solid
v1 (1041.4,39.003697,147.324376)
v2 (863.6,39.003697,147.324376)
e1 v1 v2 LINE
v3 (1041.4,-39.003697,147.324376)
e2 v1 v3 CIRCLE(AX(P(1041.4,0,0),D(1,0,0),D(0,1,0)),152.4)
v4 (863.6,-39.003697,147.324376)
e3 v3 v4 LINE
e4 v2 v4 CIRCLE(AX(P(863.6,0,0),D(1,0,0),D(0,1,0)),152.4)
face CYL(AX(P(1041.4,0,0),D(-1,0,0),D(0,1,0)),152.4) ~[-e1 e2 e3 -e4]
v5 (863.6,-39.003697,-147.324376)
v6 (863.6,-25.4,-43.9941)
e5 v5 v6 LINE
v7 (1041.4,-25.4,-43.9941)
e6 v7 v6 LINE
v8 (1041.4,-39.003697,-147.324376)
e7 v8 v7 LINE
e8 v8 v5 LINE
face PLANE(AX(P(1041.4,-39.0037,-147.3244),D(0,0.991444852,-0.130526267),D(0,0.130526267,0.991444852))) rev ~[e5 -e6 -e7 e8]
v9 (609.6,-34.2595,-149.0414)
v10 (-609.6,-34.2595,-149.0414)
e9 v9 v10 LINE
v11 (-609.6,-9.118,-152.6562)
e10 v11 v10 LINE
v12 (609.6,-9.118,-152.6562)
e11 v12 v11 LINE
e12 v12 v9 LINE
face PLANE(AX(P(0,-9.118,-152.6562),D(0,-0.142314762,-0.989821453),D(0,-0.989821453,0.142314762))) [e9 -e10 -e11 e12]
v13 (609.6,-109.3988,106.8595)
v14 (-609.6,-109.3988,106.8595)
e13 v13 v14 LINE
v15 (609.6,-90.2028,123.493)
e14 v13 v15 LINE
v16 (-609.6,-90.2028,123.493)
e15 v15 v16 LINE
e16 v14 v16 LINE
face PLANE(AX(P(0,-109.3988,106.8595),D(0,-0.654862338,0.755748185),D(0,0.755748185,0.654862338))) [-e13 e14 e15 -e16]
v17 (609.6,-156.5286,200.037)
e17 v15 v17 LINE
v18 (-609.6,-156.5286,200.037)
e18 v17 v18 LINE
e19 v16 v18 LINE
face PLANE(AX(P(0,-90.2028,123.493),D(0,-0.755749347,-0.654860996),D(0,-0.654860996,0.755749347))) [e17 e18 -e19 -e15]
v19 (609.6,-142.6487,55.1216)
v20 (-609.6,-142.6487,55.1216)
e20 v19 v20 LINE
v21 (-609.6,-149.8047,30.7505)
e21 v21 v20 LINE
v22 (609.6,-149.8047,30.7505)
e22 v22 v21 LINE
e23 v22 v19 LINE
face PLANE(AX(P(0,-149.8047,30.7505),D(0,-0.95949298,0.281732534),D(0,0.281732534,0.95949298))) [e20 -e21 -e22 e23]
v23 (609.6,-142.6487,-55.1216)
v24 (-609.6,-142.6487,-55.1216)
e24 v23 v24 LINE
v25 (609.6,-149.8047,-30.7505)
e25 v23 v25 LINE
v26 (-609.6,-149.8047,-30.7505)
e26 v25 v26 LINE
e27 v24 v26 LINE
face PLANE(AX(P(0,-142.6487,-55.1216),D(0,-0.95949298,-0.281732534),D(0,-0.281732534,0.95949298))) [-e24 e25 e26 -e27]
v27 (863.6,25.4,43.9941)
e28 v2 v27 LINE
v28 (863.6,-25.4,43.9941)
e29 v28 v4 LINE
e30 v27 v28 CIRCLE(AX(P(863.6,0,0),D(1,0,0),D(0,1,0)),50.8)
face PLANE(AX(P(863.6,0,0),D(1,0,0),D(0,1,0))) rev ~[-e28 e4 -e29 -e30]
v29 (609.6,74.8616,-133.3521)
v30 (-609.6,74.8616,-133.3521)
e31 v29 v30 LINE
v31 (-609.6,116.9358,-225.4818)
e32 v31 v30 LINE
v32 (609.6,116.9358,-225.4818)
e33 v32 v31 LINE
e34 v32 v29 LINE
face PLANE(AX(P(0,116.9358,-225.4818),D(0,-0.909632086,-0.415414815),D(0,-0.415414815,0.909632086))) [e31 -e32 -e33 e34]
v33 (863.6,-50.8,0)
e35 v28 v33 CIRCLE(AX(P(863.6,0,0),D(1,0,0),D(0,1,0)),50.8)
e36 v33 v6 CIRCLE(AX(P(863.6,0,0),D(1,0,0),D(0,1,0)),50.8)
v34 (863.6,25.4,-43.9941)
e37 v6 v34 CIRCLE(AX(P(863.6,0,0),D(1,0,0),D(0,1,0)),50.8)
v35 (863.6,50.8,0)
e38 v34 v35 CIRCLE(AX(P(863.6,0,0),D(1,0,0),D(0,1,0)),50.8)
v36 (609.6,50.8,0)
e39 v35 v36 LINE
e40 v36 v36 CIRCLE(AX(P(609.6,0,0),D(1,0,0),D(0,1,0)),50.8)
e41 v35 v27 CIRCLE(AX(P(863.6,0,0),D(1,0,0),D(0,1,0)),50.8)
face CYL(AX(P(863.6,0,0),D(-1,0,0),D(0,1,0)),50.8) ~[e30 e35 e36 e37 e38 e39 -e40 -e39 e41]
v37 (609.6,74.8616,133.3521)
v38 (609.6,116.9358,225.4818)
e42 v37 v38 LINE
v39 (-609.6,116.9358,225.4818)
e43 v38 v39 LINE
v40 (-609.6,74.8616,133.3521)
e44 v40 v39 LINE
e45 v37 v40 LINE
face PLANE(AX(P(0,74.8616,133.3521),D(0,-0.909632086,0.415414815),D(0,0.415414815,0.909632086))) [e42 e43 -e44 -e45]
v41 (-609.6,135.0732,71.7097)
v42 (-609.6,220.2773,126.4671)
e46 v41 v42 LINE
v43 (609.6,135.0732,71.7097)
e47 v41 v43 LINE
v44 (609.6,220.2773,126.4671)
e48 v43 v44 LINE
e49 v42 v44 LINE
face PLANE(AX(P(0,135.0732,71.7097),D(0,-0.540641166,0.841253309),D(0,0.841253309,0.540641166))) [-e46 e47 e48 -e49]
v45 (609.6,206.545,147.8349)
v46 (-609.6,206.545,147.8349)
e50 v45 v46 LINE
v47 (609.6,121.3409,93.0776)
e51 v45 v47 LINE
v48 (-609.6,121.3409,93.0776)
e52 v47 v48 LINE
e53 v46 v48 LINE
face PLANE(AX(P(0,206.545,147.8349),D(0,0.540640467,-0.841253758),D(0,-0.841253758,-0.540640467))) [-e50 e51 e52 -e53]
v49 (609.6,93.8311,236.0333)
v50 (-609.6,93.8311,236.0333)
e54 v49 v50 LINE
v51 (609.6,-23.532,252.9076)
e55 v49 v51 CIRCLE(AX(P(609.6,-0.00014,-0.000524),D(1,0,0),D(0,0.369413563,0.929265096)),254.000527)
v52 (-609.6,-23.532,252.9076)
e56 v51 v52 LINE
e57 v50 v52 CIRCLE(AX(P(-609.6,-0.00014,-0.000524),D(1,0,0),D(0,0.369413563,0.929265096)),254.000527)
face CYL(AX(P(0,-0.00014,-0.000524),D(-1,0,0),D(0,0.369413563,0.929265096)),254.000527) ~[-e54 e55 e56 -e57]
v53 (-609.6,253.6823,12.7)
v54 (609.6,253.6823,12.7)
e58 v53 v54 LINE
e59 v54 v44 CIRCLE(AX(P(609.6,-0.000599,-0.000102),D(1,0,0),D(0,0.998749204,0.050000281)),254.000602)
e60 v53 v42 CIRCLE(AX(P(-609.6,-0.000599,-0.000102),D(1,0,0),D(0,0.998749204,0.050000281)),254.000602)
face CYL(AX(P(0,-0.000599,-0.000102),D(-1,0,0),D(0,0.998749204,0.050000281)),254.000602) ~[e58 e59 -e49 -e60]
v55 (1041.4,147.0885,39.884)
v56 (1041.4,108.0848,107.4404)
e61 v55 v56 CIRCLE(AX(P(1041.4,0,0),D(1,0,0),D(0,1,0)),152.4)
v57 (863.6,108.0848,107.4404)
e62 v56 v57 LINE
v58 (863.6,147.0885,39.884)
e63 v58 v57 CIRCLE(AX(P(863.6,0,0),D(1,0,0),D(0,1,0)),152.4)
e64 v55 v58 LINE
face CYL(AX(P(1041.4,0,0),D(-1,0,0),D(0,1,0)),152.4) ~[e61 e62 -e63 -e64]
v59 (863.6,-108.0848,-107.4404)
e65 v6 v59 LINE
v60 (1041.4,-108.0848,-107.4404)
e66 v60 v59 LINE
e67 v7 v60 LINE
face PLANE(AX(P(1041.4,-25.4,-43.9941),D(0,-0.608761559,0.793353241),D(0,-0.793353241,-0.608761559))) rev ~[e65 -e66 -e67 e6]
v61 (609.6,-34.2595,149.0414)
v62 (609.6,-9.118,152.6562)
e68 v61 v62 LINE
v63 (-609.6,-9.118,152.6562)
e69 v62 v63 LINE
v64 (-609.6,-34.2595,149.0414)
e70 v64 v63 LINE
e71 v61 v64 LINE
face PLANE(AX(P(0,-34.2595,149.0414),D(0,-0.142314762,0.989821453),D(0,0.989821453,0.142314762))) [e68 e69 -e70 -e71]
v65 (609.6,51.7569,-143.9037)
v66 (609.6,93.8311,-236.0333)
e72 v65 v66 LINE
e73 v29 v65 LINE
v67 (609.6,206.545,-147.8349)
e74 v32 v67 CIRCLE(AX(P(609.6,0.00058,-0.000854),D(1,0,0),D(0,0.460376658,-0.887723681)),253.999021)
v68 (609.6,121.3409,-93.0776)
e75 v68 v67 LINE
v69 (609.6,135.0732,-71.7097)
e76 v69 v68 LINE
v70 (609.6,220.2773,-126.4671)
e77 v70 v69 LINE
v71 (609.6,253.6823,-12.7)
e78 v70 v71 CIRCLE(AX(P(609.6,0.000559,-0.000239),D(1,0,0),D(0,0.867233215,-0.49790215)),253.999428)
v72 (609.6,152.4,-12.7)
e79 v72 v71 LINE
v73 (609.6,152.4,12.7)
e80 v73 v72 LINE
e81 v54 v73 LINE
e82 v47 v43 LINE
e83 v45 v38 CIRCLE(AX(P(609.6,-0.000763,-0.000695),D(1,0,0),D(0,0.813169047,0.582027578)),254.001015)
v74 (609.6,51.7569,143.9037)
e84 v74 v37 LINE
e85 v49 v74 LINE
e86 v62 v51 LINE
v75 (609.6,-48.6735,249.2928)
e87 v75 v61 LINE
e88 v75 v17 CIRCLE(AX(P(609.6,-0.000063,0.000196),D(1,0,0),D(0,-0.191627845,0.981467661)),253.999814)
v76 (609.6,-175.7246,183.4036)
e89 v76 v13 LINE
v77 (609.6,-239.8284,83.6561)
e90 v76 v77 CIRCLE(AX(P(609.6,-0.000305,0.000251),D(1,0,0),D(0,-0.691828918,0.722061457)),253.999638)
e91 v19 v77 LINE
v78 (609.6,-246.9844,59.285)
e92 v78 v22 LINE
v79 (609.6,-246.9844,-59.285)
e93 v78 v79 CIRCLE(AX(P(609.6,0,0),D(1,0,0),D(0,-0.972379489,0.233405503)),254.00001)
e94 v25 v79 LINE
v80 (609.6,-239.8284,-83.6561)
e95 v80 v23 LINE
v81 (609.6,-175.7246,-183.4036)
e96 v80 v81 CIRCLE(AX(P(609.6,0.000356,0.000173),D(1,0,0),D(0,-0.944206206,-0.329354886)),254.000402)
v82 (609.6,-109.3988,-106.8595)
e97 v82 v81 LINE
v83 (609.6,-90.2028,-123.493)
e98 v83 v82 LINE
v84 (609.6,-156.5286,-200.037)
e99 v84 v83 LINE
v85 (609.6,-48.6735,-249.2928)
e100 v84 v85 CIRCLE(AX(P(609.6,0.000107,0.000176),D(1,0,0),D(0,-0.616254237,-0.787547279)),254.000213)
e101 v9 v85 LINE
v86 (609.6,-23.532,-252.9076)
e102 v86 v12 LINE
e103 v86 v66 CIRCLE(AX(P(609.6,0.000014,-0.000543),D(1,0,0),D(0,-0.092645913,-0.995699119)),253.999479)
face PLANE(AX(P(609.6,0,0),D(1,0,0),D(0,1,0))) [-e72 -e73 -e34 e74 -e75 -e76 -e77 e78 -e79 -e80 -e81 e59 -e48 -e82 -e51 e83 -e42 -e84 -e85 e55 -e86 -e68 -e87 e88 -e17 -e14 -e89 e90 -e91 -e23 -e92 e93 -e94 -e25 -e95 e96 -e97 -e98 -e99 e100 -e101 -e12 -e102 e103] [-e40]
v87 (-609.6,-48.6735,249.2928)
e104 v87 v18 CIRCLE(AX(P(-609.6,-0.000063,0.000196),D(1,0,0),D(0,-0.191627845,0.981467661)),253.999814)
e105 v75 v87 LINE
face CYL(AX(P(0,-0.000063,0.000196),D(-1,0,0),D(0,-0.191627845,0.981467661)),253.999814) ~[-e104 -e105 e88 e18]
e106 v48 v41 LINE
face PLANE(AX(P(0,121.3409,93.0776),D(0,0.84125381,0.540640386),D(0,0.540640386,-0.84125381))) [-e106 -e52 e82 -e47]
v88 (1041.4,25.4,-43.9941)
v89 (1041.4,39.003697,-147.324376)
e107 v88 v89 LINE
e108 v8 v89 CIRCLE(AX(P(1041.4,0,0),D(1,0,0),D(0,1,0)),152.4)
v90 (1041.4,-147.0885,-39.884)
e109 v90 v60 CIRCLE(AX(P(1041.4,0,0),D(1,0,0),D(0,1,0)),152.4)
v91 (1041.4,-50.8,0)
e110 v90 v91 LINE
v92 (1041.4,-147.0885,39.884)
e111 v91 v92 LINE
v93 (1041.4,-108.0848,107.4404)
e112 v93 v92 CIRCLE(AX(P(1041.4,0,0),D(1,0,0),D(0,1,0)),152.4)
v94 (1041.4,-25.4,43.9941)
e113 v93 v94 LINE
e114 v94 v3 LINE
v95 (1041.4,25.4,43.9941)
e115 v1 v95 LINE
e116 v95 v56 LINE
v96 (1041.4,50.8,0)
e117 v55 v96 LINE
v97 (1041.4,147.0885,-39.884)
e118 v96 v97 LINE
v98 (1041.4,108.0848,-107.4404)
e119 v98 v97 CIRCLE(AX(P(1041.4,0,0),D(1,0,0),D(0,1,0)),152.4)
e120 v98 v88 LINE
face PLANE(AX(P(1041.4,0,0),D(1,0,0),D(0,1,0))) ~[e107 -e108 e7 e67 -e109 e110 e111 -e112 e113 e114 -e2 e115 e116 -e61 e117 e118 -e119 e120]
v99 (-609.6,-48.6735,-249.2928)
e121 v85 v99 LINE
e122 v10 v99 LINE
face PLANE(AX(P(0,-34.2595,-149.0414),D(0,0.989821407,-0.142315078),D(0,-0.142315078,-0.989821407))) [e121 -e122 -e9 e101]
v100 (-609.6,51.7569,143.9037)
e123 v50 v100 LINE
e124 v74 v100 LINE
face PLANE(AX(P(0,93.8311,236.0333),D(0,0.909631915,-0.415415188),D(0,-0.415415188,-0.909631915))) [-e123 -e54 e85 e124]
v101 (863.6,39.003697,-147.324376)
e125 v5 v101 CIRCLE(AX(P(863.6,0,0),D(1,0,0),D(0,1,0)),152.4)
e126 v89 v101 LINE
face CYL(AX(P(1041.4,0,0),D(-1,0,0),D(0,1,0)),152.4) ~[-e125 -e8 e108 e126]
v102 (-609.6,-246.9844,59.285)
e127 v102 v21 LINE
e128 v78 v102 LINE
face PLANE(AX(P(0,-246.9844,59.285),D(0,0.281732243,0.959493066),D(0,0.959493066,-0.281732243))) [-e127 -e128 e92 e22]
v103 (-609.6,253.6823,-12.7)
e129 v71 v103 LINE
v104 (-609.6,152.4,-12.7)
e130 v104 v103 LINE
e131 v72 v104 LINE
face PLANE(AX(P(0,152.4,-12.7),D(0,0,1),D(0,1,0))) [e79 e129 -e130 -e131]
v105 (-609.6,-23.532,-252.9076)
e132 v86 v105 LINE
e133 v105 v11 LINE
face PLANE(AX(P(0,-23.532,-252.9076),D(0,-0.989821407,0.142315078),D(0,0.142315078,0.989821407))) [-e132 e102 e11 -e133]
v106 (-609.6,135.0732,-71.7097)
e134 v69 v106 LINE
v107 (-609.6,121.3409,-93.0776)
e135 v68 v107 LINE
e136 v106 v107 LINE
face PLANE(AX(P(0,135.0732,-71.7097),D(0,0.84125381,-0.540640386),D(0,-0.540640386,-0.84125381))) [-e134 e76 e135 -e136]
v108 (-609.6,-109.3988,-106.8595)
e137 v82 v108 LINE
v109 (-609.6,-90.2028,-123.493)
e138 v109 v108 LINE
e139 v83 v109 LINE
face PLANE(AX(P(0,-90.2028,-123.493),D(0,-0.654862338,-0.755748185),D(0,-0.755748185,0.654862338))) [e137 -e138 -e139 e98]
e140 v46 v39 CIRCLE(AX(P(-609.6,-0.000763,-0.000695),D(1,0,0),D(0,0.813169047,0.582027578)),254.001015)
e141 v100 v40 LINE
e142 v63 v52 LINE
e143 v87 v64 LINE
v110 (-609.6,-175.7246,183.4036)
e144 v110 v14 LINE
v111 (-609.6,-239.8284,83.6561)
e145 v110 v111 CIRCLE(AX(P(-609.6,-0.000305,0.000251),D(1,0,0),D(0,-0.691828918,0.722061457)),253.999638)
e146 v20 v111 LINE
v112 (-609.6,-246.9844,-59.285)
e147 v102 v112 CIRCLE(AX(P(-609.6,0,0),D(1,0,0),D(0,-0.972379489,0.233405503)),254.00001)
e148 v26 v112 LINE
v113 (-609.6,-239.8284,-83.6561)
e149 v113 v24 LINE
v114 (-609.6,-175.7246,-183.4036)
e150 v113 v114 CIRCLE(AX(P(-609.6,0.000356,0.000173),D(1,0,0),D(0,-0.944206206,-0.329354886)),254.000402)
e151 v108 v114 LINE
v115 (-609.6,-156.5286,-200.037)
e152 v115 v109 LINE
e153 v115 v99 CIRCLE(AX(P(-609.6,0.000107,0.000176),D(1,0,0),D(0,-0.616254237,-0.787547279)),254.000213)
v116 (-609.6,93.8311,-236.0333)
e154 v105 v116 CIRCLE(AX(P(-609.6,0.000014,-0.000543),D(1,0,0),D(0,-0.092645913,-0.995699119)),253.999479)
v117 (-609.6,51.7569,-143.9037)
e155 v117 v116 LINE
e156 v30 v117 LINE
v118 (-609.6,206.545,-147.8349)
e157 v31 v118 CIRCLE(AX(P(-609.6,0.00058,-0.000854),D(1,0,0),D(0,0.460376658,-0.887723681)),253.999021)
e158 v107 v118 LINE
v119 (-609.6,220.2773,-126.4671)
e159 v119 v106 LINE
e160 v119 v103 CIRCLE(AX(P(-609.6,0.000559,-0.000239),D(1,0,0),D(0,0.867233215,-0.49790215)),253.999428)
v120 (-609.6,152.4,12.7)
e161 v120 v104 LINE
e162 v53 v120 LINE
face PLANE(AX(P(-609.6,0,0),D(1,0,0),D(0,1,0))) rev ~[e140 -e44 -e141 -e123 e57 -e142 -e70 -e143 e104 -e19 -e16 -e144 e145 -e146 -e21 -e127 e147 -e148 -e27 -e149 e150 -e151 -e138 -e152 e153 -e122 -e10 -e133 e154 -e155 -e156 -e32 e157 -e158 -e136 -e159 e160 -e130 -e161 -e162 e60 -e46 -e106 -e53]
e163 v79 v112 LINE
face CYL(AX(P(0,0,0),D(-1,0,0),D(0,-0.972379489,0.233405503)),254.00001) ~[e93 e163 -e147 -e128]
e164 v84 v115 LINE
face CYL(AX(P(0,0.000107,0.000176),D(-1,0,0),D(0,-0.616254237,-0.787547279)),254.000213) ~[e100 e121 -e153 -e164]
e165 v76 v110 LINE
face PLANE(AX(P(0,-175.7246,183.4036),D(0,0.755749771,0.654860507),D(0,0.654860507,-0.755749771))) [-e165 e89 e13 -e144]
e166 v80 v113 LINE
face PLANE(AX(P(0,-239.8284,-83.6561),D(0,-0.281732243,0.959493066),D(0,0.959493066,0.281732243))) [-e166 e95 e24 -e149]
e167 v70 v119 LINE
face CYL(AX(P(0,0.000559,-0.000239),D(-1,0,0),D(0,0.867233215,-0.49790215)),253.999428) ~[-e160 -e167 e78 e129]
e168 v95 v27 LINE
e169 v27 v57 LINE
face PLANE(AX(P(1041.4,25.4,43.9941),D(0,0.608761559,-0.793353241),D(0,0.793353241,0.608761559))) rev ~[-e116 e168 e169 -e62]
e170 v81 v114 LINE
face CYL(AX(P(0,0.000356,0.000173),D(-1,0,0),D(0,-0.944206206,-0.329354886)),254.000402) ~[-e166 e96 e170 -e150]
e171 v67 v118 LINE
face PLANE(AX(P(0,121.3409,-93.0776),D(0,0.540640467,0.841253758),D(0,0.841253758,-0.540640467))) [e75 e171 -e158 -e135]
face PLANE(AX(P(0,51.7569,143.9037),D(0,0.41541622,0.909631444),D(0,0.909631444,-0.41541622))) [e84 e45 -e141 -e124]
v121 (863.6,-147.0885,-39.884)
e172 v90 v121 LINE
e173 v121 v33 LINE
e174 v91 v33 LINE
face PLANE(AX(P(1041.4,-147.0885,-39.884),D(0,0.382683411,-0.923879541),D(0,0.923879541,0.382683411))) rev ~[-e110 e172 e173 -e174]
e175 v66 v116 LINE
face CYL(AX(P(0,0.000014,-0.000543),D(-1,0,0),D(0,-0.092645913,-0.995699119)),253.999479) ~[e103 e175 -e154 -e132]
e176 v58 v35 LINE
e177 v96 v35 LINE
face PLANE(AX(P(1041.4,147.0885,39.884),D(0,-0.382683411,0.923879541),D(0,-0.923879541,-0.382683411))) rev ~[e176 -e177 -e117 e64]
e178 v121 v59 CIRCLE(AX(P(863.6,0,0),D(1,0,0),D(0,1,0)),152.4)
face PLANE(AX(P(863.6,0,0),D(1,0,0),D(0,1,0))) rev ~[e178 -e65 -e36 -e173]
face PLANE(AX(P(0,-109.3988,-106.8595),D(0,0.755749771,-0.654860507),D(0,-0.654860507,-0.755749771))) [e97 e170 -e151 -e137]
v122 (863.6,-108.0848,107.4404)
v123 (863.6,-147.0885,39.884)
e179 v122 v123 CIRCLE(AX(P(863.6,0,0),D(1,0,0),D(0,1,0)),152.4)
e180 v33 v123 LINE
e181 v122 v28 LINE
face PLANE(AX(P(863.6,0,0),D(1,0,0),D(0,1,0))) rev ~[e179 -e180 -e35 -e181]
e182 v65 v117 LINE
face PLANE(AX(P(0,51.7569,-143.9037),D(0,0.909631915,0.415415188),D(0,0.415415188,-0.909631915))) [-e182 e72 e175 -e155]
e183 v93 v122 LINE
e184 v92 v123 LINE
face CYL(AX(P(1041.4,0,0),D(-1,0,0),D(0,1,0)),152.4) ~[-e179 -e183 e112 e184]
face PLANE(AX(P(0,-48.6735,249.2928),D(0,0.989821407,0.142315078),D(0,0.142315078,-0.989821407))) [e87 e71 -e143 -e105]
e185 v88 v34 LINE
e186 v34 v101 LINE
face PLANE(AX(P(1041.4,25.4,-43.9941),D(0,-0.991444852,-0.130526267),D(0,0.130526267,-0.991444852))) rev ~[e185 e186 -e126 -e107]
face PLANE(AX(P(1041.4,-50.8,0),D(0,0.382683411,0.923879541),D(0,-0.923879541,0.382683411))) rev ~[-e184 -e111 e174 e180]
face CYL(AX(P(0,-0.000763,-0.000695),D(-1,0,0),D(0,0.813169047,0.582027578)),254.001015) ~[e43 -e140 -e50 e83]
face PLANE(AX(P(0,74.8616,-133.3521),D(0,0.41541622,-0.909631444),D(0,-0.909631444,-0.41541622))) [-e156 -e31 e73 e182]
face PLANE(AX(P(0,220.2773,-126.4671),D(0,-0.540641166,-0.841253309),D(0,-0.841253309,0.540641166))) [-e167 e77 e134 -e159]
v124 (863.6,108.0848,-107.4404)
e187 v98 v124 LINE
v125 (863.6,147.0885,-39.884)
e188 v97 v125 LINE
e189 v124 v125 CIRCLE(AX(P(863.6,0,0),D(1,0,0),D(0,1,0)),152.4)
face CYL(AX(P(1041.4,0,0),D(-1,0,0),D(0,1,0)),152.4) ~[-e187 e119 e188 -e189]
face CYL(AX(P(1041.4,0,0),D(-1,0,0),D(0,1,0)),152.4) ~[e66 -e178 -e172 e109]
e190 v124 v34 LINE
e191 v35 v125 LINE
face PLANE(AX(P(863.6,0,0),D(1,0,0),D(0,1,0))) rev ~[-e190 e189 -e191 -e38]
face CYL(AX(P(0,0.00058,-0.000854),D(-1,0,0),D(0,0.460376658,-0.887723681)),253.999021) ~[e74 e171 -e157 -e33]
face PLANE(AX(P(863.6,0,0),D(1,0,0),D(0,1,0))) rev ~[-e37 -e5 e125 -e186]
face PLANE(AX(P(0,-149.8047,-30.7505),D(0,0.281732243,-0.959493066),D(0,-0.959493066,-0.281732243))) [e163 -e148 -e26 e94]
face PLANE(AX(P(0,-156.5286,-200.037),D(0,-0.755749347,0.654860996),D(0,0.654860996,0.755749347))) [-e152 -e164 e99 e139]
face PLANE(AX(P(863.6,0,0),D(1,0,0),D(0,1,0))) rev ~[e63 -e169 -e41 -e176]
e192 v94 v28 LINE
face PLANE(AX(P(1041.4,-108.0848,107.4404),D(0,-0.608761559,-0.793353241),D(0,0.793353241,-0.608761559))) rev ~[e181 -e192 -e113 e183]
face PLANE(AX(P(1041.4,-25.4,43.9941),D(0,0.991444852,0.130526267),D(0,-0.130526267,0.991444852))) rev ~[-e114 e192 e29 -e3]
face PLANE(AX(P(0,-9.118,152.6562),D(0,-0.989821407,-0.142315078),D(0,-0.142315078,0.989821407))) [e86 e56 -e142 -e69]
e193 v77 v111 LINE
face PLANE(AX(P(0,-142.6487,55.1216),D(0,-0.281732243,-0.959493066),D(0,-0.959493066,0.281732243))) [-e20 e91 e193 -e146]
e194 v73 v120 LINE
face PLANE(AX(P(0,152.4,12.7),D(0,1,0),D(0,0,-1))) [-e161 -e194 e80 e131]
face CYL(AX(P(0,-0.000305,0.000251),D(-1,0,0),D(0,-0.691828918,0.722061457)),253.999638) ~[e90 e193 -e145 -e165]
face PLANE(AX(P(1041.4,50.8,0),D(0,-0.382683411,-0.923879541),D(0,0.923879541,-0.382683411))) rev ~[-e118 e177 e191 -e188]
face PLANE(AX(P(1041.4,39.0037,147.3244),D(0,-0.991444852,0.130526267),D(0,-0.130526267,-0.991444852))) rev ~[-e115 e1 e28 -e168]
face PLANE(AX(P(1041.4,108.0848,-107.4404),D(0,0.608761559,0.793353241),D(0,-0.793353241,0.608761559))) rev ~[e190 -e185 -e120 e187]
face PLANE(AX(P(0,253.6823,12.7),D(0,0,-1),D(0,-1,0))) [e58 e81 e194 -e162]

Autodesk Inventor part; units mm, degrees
ref_plane "YZ Plane" through (0, 0, 0) normal (1, 0, 0) x (0, 1, 0)
ref_plane "XZ Plane" through (0, 0, 0) normal (0, 1, 0) x (-1, 0, 0)
ref_plane "XY Plane" through (0, 0, 0) normal (0, 0, 1) x (1, 0, 0)
sketch "Sketch1" plane through (0, 0, 0) normal (1, 0, 0) x (0, 1, 0)
  line L0 (253.6823, 12.7) -> (152.4, 12.7)
  line L1 (152.4, 12.7) -> (152.4, -12.7)
  line L2 (152.4, -12.7) -> (253.6823, -12.7)
  line L3 (228.6, 0) -> (152.4, 0) construction
  line L4 (206.545, 147.8349) -> (121.3409, 93.0776)
  line L5 (121.3409, 93.0776) -> (135.0732, 71.7097)
  line L6 (135.0732, 71.7097) -> (220.2773, 126.4671)
  line L7 (93.8311, 236.0333) -> (51.7569, 143.9037)
  line L8 (51.7569, 143.9037) -> (74.8616, 133.3521)
  line L9 (74.8616, 133.3521) -> (116.9358, 225.4818)
  line L10 (-48.6735, 249.2928) -> (-34.2595, 149.0414)
  line L11 (-34.2595, 149.0414) -> (-9.118, 152.6562)
  line L12 (-9.118, 152.6562) -> (-23.532, 252.9076)
  line L13 (-175.7246, 183.4036) -> (-109.3988, 106.8595)
  line L14 (-109.3988, 106.8595) -> (-90.2028, 123.493)
  line L15 (-90.2028, 123.493) -> (-156.5286, 200.037)
  line L16 (-246.9844, 59.285) -> (-149.8047, 30.7505)
  line L17 (-149.8047, 30.7505) -> (-142.6487, 55.1216)
  line L18 (-142.6487, 55.1216) -> (-239.8284, 83.6561)
  line L19 (-239.8284, -83.6561) -> (-142.6487, -55.1216)
  line L20 (-142.6487, -55.1216) -> (-149.8047, -30.7505)
  line L21 (-149.8047, -30.7505) -> (-246.9844, -59.285)
  line L22 (-156.5286, -200.037) -> (-90.2028, -123.493)
  line L23 (-90.2028, -123.493) -> (-109.3988, -106.8595)
  line L24 (-109.3988, -106.8595) -> (-175.7246, -183.4036)
  line L25 (-23.532, -252.9076) -> (-9.118, -152.6562)
  line L26 (-9.118, -152.6562) -> (-34.2595, -149.0414)
  line L27 (-34.2595, -149.0414) -> (-48.6735, -249.2928)
  line L28 (116.9358, -225.4818) -> (74.8616, -133.3521)
  line L29 (74.8616, -133.3521) -> (51.7569, -143.9037)
  line L30 (51.7569, -143.9037) -> (93.8311, -236.0333)
  line L31 (220.2773, -126.4671) -> (135.0732, -71.7097)
  line L32 (135.0732, -71.7097) -> (121.3409, -93.0776)
  line L33 (121.3409, -93.0776) -> (206.545, -147.8349)
  arc A0 (253.6823, 12.7) -> (220.2773, 126.4671) centre (0, 0) ccw
  arc A1 (220.2773, -126.4671) -> (253.6823, -12.7) centre (0, 0) ccw
  arc A2 (116.9358, -225.4818) -> (206.545, -147.8349) centre (0, 0) ccw
  arc A3 (-23.532, -252.9076) -> (93.8311, -236.0333) centre (0, 0) ccw
  arc A4 (-156.5286, -200.037) -> (-48.6735, -249.2928) centre (0, 0) ccw
  arc A5 (-239.8284, -83.6561) -> (-175.7246, -183.4036) centre (0, 0) ccw
  arc A6 (-246.9844, 59.285) -> (-246.9844, -59.285) centre (0, 0) ccw
  arc A7 (-175.7246, 183.4036) -> (-239.8284, 83.6561) centre (0, 0) ccw
  arc A8 (-48.6735, 249.2928) -> (-156.5286, 200.037) centre (0, 0) ccw
  arc A9 (206.545, 147.8349) -> (116.9358, 225.4818) centre (0, 0) ccw
  arc A10 (93.8311, 236.0333) -> (-23.532, 252.9076) centre (0, 0) ccw
  point P0 (128.207, 82.3937)
  point P1 (63.3092, 138.6279)
  point P2 (-21.6888, 150.8488)
  point P3 (-99.8008, 115.1762)
  point P4 (-146.2267, 42.936)
  point P5 (-146.2267, -42.936)
  point P6 (-99.8008, -115.1762)
  point P7 (-21.6888, -150.8488)
  point P8 (63.3092, -138.6279)
  point P9 (128.207, -82.3937)
  dimension "d4" = 254
  dimension "d5" = 152.4
  dimension "d6" = 25.4
extrude "Extrusion1" add sketch "Sketch1" along normal mid plane 1219.2
sketch "Sketch2" plane through (0, 0, 0) normal (0, 0, 1) x (1, 0, 0)
  line L0 (609.6, 0) -> (1041.4, 0)
  line L1 (1041.4, 0) -> (1041.4, 152.4)
  line L2 (1041.4, 152.4) -> (863.6, 152.4)
  line L3 (863.6, 152.4) -> (863.6, 50.8)
  line L4 (863.6, 50.8) -> (609.6, 50.8)
  line L5 (609.6, -23.532) -> (609.6, 93.8311) projected
  point P0 (0, 0)
  dimension "d9" = 101.6
  dimension "d10" = 177.8
  dimension "d11" = 304.8
  dimension "d12" = 254
revolve "Revolution1" add sketch "Sketch2" angle 360 about axis through (609.6, 0, 0) along (1, 0, 0)
sketch "Sketch3" plane through (1041.4, 0, 0) normal (1, 0, 0) x (0, 0, -1)
  circle A0 centre (0, 0) radius 152.4 construction
  circle A1 centre (0, 0) radius 152.4 construction
  line L0 (-39.884, 147.0885) -> (0, 50.8)
  line L1 (0, 50.8) -> (39.884, 147.0885)
  line L2 (0, 0) -> (0, 152.4) construction
  line L3 (-43.9941, 25.4) -> (-107.4404, 108.0848)
  line L4 (-147.3244, 39.0037) -> (-43.9941, 25.4)
  line L5 (-43.9941, -25.4) -> (-147.3244, -39.0037)
  line L6 (-107.4404, -108.0848) -> (-43.9941, -25.4)
  line L7 (0, -50.8) -> (-39.884, -147.0885)
  line L8 (39.884, -147.0885) -> (0, -50.8)
  line L9 (43.9941, -25.4) -> (107.4404, -108.0848)
  line L10 (147.3244, -39.0037) -> (43.9941, -25.4)
  line L11 (43.9941, 25.4) -> (147.3244, 39.0037)
  line L12 (107.4404, 108.0848) -> (43.9941, 25.4)
  arc A2 (39.884, 147.0885) -> (-39.884, 147.0885) centre (0, 0) ccw
  arc A3 (147.3244, 39.0037) -> (107.4404, 108.0848) centre (0, 0) ccw
  arc A4 (107.4404, -108.0848) -> (147.3244, -39.0037) centre (0, 0) ccw
  arc A5 (-39.884, -147.0885) -> (39.884, -147.0885) centre (0, 0) ccw
  arc A6 (-107.4404, 108.0848) -> (-147.3244, 39.0037) centre (0, 0) ccw
  arc A7 (-147.3244, -39.0037) -> (-107.4404, -108.0848) centre (0, 0) ccw
  dimension "d14" = 50.8
  dimension "d15" = 45
  dimension "d18" = 360
extrude "Extrusion2" cut sketch "Sketch3" against normal up to surface (177.8 mm away)
properties part number "Hydraulic ShaftCJE" material "Steel, High Strength, Low Alloy"
